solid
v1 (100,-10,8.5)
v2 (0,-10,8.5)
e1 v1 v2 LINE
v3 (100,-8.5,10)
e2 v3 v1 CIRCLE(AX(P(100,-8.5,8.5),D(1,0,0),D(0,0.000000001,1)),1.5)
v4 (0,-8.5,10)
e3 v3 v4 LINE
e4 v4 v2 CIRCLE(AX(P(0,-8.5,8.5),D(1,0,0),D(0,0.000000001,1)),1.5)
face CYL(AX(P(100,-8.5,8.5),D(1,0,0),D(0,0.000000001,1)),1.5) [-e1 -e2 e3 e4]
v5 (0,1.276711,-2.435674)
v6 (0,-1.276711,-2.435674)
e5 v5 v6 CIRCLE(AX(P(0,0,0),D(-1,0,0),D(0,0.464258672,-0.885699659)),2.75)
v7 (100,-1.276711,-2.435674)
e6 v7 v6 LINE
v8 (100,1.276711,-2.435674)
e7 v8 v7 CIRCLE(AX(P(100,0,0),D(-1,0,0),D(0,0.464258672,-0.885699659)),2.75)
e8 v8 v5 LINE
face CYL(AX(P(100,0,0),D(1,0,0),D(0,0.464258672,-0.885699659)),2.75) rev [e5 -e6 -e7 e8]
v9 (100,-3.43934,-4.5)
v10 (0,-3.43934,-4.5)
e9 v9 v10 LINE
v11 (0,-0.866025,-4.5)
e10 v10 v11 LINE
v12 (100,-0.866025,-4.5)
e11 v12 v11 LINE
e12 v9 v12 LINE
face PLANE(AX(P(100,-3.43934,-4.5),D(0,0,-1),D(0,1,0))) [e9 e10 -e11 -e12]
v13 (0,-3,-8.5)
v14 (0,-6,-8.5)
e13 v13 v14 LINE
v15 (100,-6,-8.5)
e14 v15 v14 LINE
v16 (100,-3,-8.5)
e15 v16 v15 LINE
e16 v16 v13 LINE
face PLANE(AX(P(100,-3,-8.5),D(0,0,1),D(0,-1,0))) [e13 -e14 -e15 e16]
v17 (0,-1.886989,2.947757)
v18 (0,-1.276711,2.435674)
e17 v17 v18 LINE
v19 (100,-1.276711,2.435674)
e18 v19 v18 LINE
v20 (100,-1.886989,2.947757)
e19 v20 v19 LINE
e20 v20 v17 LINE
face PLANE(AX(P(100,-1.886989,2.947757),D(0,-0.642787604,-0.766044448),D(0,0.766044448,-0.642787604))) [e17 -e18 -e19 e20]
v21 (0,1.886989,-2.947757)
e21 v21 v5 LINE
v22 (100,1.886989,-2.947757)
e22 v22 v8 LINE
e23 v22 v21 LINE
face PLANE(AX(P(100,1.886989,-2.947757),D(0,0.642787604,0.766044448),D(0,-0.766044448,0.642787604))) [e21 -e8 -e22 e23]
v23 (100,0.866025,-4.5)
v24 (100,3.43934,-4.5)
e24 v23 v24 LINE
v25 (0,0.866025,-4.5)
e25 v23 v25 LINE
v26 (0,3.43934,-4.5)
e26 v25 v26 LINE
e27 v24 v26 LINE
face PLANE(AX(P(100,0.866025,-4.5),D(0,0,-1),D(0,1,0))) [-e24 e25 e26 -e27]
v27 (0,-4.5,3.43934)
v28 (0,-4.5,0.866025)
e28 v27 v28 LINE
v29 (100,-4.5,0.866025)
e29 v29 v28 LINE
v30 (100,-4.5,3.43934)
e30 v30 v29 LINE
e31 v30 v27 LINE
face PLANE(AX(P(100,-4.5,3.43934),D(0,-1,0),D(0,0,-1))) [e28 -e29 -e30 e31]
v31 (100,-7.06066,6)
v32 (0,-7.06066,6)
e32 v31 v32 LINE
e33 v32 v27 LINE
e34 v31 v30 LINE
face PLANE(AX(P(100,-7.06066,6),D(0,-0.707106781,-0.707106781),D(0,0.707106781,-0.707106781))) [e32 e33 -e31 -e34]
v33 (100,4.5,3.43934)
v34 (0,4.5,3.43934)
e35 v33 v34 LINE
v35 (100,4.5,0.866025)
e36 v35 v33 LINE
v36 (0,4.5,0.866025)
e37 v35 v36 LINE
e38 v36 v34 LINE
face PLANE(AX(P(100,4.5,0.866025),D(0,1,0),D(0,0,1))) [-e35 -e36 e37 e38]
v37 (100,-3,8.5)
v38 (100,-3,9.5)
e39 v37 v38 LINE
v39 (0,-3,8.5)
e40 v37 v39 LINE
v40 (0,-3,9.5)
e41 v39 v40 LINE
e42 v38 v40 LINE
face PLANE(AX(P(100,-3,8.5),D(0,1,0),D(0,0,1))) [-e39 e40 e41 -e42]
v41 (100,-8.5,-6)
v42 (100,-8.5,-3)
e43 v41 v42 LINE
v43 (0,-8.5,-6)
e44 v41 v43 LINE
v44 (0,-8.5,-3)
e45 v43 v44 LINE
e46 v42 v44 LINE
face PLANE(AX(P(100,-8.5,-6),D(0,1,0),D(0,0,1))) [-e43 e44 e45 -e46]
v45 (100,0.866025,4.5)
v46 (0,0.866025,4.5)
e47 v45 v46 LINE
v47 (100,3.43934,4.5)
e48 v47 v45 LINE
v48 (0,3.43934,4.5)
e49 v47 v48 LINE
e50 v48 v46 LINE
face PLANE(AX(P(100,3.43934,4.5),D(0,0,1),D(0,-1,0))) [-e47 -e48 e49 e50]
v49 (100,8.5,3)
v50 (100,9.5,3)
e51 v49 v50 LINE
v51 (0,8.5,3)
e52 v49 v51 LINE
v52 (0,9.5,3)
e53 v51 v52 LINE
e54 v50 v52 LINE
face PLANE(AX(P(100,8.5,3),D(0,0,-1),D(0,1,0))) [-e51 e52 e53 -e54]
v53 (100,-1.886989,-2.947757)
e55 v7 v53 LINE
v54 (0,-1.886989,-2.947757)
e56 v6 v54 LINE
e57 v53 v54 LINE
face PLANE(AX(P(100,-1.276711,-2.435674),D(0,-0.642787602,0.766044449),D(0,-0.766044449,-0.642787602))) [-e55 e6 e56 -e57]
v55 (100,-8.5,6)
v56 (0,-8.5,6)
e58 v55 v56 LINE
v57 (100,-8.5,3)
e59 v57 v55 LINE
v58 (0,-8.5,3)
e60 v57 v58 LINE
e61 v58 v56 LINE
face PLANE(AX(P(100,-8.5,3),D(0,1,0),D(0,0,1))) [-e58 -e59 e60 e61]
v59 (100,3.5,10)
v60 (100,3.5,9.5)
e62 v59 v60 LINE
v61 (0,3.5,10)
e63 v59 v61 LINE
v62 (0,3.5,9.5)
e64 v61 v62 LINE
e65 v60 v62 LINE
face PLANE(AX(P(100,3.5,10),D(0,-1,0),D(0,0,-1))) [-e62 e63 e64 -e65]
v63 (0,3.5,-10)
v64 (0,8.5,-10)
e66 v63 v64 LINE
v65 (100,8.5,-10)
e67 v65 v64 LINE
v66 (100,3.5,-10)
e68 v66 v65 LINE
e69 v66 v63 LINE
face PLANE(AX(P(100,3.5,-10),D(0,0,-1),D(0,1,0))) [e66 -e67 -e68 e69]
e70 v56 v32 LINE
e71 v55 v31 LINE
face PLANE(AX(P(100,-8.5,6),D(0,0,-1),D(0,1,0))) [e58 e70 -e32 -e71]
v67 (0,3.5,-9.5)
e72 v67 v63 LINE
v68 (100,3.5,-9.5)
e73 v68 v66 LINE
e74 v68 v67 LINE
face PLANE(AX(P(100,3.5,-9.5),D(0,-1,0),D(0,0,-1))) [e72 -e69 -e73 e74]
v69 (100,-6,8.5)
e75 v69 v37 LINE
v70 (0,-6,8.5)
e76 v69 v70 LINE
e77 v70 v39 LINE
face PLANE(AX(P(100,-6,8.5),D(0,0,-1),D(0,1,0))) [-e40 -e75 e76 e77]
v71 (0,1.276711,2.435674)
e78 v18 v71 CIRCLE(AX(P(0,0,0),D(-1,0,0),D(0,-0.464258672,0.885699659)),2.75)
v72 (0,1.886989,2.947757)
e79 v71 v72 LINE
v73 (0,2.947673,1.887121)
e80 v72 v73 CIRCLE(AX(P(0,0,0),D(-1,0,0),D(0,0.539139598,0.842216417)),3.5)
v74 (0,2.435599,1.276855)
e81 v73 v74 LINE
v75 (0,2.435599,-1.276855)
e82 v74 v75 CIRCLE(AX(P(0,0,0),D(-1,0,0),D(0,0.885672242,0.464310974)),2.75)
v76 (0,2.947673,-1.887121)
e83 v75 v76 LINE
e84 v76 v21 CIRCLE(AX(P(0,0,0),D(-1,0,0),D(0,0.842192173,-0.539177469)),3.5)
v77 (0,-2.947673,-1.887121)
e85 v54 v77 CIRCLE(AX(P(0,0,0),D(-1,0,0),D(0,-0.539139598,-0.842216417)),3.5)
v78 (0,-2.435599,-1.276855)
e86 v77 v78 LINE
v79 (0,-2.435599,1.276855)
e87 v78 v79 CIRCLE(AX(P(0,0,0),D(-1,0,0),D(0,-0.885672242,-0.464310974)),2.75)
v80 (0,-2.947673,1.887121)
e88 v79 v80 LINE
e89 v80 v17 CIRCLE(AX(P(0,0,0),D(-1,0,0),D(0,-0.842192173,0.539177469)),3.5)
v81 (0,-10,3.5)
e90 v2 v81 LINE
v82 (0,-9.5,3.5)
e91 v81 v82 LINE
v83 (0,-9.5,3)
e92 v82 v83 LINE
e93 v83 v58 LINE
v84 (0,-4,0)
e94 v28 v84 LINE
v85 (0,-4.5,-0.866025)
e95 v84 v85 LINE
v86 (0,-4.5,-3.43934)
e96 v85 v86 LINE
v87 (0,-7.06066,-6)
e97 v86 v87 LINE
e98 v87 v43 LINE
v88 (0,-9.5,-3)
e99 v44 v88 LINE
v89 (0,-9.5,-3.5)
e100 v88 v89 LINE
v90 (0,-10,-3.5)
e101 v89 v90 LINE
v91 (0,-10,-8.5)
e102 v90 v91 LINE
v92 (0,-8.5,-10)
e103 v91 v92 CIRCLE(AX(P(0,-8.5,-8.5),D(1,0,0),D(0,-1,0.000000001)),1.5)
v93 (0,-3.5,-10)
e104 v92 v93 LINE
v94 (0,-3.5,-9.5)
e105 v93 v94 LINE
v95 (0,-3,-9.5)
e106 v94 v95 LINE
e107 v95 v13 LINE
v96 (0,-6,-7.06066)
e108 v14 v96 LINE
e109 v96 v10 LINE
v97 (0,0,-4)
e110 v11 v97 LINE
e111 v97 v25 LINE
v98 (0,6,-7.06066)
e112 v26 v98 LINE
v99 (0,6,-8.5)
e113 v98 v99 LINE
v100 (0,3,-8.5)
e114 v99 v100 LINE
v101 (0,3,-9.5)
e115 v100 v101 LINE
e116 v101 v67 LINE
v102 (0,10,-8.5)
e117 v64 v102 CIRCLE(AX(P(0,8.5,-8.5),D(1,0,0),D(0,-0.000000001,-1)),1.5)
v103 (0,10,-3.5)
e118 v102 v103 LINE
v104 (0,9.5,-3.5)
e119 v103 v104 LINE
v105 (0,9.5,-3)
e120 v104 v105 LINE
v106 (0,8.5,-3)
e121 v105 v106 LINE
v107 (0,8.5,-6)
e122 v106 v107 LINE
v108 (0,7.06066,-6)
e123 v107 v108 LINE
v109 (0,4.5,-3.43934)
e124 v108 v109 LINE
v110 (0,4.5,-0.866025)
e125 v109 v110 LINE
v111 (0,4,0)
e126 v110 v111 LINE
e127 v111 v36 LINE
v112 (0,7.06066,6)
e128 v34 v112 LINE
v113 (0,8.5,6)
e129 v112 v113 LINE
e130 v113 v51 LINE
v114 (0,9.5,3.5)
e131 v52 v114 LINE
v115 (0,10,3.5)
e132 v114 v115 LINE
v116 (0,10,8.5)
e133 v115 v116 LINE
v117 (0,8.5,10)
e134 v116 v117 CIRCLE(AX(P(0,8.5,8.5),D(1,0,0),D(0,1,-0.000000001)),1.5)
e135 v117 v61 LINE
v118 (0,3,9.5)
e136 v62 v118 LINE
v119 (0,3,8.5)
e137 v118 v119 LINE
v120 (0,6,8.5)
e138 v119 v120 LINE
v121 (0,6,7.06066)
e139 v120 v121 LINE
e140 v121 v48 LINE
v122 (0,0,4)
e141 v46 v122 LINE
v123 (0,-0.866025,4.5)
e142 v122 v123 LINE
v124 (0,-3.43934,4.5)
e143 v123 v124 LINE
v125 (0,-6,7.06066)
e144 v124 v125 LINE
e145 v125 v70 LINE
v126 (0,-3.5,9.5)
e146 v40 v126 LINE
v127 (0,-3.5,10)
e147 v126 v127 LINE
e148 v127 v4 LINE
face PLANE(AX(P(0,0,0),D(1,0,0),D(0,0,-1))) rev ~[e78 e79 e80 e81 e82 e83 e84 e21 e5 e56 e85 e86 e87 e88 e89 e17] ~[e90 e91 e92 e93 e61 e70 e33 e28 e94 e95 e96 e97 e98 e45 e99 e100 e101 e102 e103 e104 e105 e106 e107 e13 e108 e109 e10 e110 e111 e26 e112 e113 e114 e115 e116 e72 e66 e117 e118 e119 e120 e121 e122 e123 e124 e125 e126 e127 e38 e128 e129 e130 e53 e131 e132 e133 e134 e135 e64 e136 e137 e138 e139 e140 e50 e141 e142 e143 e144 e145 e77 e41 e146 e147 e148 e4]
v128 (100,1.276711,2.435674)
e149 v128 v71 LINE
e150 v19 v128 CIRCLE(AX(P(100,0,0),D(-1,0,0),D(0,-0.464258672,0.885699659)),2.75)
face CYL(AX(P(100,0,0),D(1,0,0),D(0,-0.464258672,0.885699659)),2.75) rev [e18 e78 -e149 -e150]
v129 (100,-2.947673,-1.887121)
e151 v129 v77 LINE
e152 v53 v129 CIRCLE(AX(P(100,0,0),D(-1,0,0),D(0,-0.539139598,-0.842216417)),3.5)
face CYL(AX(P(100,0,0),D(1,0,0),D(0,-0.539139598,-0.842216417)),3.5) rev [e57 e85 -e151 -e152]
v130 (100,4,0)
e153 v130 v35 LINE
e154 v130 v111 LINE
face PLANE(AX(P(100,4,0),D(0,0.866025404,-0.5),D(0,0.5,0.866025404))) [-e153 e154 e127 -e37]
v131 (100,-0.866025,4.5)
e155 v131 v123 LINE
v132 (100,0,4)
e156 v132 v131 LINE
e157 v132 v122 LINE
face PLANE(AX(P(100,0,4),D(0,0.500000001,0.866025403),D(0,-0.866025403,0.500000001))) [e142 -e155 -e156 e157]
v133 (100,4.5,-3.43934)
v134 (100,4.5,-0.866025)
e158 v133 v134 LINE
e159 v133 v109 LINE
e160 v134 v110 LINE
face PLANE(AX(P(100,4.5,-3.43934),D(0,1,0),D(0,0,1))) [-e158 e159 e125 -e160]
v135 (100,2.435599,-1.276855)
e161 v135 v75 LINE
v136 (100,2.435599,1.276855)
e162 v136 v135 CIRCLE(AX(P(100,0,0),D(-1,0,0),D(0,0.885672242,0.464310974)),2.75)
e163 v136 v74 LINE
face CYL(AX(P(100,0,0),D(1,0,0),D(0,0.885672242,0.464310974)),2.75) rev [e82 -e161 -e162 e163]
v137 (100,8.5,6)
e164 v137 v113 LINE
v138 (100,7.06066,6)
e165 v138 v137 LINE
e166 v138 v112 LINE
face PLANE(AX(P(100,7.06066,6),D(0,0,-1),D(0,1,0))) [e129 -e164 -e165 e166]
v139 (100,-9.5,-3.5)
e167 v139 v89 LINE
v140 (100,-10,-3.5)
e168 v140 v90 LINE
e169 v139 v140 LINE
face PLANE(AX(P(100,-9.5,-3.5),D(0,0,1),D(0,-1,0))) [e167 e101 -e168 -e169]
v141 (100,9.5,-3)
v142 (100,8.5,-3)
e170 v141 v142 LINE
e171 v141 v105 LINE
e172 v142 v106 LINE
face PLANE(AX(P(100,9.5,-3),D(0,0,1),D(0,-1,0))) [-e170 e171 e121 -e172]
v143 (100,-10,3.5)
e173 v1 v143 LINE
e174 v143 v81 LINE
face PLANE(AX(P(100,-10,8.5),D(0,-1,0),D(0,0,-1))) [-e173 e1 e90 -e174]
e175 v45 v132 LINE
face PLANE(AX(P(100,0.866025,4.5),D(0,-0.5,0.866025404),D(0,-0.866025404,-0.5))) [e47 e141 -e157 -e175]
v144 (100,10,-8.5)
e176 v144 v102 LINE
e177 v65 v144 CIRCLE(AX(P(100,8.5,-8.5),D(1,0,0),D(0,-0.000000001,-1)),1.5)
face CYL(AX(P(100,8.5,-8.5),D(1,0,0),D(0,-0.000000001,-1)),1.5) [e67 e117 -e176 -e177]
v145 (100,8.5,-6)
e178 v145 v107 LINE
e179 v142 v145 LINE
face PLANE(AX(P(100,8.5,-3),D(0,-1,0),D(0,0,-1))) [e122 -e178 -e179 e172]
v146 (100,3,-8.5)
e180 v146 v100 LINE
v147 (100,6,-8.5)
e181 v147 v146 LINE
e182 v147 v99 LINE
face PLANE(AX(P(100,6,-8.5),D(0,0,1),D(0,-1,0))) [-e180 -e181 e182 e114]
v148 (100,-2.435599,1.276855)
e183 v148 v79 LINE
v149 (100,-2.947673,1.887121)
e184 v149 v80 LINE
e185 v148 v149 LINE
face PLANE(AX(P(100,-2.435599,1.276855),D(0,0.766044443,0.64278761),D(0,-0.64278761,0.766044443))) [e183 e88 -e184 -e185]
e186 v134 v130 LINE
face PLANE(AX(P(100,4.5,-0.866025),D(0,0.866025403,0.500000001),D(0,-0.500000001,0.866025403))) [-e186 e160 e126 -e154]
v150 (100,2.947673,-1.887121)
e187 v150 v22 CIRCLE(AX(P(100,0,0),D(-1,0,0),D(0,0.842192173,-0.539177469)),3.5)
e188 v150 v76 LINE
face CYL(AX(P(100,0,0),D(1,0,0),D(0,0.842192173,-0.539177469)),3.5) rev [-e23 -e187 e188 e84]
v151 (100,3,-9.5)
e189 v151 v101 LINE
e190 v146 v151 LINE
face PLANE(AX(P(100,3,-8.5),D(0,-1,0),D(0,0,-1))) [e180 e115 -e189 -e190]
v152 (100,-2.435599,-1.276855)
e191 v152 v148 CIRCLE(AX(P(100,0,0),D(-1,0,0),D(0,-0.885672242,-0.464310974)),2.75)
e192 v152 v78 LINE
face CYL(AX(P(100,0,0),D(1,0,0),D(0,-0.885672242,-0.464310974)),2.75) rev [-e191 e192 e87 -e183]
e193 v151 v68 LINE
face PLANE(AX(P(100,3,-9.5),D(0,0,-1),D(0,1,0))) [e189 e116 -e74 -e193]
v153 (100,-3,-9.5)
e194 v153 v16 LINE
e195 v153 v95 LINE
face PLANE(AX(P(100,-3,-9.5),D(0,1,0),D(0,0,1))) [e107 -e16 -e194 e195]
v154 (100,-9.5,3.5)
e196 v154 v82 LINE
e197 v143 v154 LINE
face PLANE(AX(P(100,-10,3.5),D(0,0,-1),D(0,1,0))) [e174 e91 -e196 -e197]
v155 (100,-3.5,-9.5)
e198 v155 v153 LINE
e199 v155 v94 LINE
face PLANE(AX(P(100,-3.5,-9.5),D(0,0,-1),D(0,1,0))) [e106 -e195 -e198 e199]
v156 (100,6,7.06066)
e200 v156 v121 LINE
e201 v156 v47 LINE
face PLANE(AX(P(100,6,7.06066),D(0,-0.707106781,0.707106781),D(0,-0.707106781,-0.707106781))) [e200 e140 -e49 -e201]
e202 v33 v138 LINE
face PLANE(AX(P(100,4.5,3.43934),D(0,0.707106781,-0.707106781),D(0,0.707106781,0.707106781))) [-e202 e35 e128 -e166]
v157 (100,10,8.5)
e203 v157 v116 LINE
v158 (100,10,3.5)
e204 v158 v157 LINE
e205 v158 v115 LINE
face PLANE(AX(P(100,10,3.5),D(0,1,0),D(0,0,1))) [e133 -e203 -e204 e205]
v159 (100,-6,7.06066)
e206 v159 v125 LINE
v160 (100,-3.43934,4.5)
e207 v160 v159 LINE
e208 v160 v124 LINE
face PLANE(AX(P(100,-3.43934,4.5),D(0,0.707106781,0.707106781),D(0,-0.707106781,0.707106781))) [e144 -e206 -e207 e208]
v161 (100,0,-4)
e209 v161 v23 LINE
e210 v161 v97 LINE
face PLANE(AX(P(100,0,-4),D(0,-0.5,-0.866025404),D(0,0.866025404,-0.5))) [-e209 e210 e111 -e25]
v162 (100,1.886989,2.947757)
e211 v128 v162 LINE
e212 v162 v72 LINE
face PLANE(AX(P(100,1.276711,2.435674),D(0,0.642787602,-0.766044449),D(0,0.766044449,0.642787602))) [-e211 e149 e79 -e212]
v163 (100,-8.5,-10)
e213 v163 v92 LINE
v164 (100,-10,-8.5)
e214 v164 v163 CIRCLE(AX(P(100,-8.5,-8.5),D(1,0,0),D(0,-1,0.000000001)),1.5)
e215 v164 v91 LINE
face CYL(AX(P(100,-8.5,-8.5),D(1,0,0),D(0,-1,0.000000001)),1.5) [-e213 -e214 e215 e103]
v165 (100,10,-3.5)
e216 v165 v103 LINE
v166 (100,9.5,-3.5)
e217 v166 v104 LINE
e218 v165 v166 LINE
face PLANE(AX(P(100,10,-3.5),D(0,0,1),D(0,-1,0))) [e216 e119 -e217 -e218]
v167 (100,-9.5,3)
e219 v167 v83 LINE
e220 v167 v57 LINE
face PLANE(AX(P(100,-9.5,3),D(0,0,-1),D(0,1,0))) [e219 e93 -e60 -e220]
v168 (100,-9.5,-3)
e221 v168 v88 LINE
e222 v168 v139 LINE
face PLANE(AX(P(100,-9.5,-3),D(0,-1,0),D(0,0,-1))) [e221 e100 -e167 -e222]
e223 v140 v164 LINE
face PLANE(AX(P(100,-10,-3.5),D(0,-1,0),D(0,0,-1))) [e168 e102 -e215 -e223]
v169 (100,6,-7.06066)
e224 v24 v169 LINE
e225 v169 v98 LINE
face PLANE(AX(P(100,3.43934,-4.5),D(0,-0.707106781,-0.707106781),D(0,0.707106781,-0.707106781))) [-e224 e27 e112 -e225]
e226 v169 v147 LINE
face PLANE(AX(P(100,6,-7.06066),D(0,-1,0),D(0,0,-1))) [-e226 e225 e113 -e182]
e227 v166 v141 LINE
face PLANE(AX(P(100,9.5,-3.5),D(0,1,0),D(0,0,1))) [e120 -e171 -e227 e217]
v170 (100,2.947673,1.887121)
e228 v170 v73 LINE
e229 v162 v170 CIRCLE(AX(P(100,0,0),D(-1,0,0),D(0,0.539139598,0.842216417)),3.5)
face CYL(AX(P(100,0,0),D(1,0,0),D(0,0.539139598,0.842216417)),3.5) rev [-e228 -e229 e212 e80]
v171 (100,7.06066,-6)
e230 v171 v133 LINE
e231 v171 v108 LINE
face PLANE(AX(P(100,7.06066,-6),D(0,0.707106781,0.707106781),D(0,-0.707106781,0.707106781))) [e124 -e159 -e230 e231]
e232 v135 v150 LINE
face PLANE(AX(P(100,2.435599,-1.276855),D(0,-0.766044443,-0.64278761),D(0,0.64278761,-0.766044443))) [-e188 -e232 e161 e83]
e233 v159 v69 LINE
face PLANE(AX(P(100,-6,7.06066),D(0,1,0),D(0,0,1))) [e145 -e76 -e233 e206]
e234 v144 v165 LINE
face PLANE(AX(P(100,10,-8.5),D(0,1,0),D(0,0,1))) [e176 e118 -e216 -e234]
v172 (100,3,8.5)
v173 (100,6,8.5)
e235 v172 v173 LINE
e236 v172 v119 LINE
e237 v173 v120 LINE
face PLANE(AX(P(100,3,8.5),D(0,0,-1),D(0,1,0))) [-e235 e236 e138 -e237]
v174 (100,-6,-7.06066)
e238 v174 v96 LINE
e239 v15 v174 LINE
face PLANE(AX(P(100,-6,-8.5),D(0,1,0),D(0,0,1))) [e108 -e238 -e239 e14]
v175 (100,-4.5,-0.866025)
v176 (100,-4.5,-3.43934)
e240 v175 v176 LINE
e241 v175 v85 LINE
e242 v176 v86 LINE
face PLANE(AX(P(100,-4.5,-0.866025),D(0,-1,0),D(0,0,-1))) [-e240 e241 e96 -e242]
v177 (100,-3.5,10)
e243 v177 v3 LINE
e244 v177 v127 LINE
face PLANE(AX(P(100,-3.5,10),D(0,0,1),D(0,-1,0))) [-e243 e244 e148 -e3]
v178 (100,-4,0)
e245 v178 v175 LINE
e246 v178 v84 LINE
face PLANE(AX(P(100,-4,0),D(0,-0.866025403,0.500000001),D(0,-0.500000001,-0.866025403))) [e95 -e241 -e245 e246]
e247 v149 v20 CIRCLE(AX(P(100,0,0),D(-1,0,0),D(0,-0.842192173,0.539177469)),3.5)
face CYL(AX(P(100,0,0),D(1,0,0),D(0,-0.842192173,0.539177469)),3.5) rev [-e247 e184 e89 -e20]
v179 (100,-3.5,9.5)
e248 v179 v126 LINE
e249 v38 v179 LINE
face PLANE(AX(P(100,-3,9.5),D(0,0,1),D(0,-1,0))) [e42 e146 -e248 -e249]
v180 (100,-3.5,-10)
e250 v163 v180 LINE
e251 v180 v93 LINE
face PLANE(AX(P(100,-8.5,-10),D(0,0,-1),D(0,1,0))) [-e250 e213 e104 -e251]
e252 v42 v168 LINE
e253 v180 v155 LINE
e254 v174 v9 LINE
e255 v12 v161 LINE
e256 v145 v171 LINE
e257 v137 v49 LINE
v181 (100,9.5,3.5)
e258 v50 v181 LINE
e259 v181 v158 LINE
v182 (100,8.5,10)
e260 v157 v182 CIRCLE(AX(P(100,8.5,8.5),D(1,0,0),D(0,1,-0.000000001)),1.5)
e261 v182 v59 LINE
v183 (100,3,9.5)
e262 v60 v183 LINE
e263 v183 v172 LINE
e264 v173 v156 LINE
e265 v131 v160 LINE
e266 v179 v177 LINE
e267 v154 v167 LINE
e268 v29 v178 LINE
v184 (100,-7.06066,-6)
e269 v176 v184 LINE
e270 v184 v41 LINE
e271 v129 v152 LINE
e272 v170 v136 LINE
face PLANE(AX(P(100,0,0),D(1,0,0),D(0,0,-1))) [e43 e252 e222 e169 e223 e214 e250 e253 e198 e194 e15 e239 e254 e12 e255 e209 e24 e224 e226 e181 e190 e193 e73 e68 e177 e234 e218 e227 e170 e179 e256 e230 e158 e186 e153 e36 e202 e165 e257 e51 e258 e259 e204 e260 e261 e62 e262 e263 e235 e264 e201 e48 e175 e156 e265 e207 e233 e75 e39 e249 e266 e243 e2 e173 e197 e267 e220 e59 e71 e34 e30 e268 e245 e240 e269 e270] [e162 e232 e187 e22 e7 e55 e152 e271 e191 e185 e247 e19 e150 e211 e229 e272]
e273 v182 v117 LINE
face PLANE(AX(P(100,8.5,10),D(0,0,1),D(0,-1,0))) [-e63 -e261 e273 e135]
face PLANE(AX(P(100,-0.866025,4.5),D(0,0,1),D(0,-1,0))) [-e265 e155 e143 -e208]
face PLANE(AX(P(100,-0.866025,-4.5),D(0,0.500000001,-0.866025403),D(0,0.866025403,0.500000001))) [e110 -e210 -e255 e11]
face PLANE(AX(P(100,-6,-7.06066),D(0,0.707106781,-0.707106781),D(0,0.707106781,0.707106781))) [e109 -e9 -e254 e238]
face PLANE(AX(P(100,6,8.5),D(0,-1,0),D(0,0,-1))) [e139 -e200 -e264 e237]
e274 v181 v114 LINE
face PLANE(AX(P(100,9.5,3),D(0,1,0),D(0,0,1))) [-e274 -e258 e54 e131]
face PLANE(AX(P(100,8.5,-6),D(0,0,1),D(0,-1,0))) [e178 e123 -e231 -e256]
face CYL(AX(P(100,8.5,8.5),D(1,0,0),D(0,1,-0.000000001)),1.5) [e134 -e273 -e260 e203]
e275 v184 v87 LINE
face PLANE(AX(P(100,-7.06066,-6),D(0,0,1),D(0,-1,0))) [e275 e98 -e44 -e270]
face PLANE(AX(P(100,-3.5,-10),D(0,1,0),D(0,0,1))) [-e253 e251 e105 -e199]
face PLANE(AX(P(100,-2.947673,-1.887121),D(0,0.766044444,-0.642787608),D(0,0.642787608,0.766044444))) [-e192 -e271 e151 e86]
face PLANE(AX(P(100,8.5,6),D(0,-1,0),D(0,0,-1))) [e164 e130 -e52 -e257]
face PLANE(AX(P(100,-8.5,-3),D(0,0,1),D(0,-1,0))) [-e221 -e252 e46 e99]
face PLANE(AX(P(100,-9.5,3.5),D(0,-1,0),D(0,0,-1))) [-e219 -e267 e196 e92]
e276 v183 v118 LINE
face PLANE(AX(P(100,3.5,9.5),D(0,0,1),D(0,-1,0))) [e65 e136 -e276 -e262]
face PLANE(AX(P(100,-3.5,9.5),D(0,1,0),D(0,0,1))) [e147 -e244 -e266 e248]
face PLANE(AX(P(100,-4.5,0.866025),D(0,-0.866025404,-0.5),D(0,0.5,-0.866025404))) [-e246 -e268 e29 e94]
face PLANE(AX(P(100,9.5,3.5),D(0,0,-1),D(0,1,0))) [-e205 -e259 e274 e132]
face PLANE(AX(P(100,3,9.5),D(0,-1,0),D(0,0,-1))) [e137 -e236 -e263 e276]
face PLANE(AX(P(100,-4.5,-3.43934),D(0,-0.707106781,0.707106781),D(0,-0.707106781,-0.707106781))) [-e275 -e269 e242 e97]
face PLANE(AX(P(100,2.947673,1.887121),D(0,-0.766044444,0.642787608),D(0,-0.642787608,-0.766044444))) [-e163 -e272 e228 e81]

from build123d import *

# Parameters (mm, degrees)
BOSS_EXTRUDE1_DEPTH = 100


with BuildPart() as part:
    # Sketch1 → Boss-Extrude1 (new body)
    with BuildSketch(Plane(origin=(100, 0, 0), x_dir=(0, 0, -1), z_dir=(1, 0, 0))):
        with BuildLine():
            Line((7.06066017, -5.99999999), (4.5, -3.43933982))
            Line((4.5, -3.43933982), (4.5, -0.8660254))
            Line((4.5, -0.8660254), (4.000000002, -1e-09))
            Line((4.000000002, -1e-09), (4.5, 0.8660254))
            Line((4.5, 0.8660254), (4.5, 3.43933982))
            Line((4.5, 3.43933982), (7.06066017, 5.99999999))
            Line((7.06066017, 5.99999999), (8.5, 5.99999999))
            Line((8.5, 5.99999999), (8.5, 2.99999999))
            Line((8.5, 2.99999999), (9.5, 2.99999999))
            Line((9.5, 2.99999999), (9.5, 3.49999999))
            Line((9.5, 3.49999999), (10, 3.49999999))
            Line((10, 3.49999999), (10, 8.49999999))
            ThreePointArc((10, 8.49999999), (9.560660172, 9.560660162), (8.5, 9.99999999))
            Line((8.5, 9.99999999), (3.5, 9.99999999))
            Line((3.5, 9.99999999), (3.5, 9.49999999))
            Line((3.5, 9.49999999), (3, 9.49999999))
            Line((3, 9.49999999), (3, 8.49999999))
            Line((3, 8.49999999), (6, 8.49999999))
            Line((6, 8.49999999), (6, 7.06066016))
            Line((6, 7.06066016), (3.43933983, 4.49999999))
            Line((3.43933983, 4.49999999), (0.86602541, 4.49999999))
            Line((0.86602541, 4.49999999), (1.1e-08, 3.999999992))
            Line((1.1e-08, 3.999999992), (-0.86602539, 4.49999999))
            Line((-0.86602539, 4.49999999), (-3.43933981, 4.49999999))
            Line((-3.43933981, 4.49999999), (-5.99999998, 7.06066016))
            Line((-5.99999998, 7.06066016), (-5.99999998, 8.49999999))
            Line((-5.99999998, 8.49999999), (-2.99999998, 8.49999999))
            Line((-2.99999998, 8.49999999), (-2.99999998, 9.49999999))
            Line((-2.99999998, 9.49999999), (-3.49999998, 9.49999999))
            Line((-3.49999998, 9.49999999), (-3.49999998, 9.99999999))
            Line((-3.49999998, 9.99999999), (-8.49999998, 9.99999999))
            ThreePointArc((-8.49999998, 9.99999999), (-9.560660152, 9.560660162), (-9.99999998, 8.49999999))
            Line((-9.99999998, 8.49999999), (-9.99999998, 3.49999999))
            Line((-9.99999998, 3.49999999), (-9.49999998, 3.49999999))
            Line((-9.49999998, 3.49999999), (-9.49999998, 2.99999999))
            Line((-9.49999998, 2.99999999), (-8.49999998, 2.99999999))
            Line((-8.49999998, 2.99999999), (-8.49999998, 5.99999999))
            Line((-8.49999998, 5.99999999), (-7.06066015, 5.99999999))
            Line((-7.06066015, 5.99999999), (-4.49999998, 3.43933982))
            Line((-4.49999998, 3.43933982), (-4.49999998, 0.8660254))
            Line((-4.49999998, 0.8660254), (-3.999999982, -1e-09))
            Line((-3.999999982, -1e-09), (-4.49999998, -0.8660254))
            Line((-4.49999998, -0.8660254), (-4.49999998, -3.43933982))
            Line((-4.49999998, -3.43933982), (-7.06066015, -5.99999999))
            Line((-7.06066015, -5.99999999), (-8.49999998, -5.99999999))
            Line((-8.49999998, -5.99999999), (-8.49999998, -2.99999999))
            Line((-8.49999998, -2.99999999), (-9.49999998, -2.99999999))
            Line((-9.49999998, -2.99999999), (-9.49999998, -3.49999999))
            Line((-9.49999998, -3.49999999), (-9.99999998, -3.49999999))
            Line((-9.99999998, -3.49999999), (-9.99999998, -8.49999999))
            ThreePointArc((-9.99999998, -8.49999999), (-9.560660152, -9.560660162), (-8.49999998, -9.99999999))
            Line((-8.49999998, -9.99999999), (-3.49999998, -9.99999999))
            Line((-3.49999998, -9.99999999), (-3.49999998, -9.49999999))
            Line((-3.49999998, -9.49999999), (-2.99999998, -9.49999999))
            Line((-2.99999998, -9.49999999), (-2.99999998, -8.49999999))
            Line((-2.99999998, -8.49999999), (-5.99999998, -8.49999999))
            Line((-5.99999998, -8.49999999), (-5.99999998, -7.06066016))
            Line((-5.99999998, -7.06066016), (-3.43933981, -4.49999999))
            Line((-3.43933981, -4.49999999), (-0.86602539, -4.49999999))
            Line((-0.86602539, -4.49999999), (1.1e-08, -3.999999992))
            Line((1.1e-08, -3.999999992), (0.86602541, -4.49999999))
            Line((0.86602541, -4.49999999), (3.43933983, -4.49999999))
            Line((3.43933983, -4.49999999), (6, -7.06066016))
            Line((6, -7.06066016), (6, -8.49999999))
            Line((6, -8.49999999), (3, -8.49999999))
            Line((3, -8.49999999), (3, -9.49999999))
            Line((3, -9.49999999), (3.5, -9.49999999))
            Line((3.5, -9.49999999), (3.5, -9.99999999))
            Line((3.5, -9.99999999), (8.5, -9.99999999))
            ThreePointArc((8.5, -9.99999999), (9.560660172, -9.560660162), (10, -8.49999999))
            Line((10, -8.49999999), (10, -3.49999999))
            Line((10, -3.49999999), (9.5, -3.49999999))
            Line((9.5, -3.49999999), (9.5, -2.99999999))
            Line((9.5, -2.99999999), (8.5, -2.99999999))
            Line((8.5, -2.99999999), (8.5, -5.99999999))
            Line((8.5, -5.99999999), (7.06066017, -5.99999999))
        make_face()
        with BuildLine():
            Line((2.947757464, 1.886988592), (2.435674066, 1.276711353))
            ThreePointArc((2.435674066, 1.276711353), (2.750000006, 0), (2.435674066, -1.276711353))
            Line((2.435674066, -1.276711353), (2.947757463, -1.886988593))
            ThreePointArc((2.947757463, -1.886988593), (2.474929377, -2.474818092), (1.88712114, -2.94767261))
            Line((1.88712114, -2.94767261), (1.27685518, -2.43559867))
            ThreePointArc((1.27685518, -2.43559867), (0, -2.750000006), (-1.27685518, -2.43559867))
            Line((-1.27685518, -2.43559867), (-1.887121139, -2.947672611))
            ThreePointArc((-1.887121139, -2.947672611), (-2.474929377, -2.474818092), (-2.947757464, -1.886988592))
            Line((-2.947757464, -1.886988592), (-2.435674066, -1.276711353))
            ThreePointArc((-2.435674066, -1.276711353), (-2.750000006, 0), (-2.435674066, 1.276711353))
            Line((-2.435674066, 1.276711353), (-2.947757463, 1.886988593))
            ThreePointArc((-2.947757463, 1.886988593), (-2.474929377, 2.474818092), (-1.88712114, 2.94767261))
            Line((-1.88712114, 2.94767261), (-1.27685518, 2.43559867))
            ThreePointArc((-1.27685518, 2.43559867), (0, 2.750000006), (1.27685518, 2.43559867))
            Line((1.27685518, 2.43559867), (1.887121139, 2.947672611))
            ThreePointArc((1.887121139, 2.947672611), (2.474929377, 2.474818092), (2.947757464, 1.886988592))
        make_face(mode=Mode.SUBTRACT)
    extrude(amount=-BOSS_EXTRUDE1_DEPTH)


solid = part.part
